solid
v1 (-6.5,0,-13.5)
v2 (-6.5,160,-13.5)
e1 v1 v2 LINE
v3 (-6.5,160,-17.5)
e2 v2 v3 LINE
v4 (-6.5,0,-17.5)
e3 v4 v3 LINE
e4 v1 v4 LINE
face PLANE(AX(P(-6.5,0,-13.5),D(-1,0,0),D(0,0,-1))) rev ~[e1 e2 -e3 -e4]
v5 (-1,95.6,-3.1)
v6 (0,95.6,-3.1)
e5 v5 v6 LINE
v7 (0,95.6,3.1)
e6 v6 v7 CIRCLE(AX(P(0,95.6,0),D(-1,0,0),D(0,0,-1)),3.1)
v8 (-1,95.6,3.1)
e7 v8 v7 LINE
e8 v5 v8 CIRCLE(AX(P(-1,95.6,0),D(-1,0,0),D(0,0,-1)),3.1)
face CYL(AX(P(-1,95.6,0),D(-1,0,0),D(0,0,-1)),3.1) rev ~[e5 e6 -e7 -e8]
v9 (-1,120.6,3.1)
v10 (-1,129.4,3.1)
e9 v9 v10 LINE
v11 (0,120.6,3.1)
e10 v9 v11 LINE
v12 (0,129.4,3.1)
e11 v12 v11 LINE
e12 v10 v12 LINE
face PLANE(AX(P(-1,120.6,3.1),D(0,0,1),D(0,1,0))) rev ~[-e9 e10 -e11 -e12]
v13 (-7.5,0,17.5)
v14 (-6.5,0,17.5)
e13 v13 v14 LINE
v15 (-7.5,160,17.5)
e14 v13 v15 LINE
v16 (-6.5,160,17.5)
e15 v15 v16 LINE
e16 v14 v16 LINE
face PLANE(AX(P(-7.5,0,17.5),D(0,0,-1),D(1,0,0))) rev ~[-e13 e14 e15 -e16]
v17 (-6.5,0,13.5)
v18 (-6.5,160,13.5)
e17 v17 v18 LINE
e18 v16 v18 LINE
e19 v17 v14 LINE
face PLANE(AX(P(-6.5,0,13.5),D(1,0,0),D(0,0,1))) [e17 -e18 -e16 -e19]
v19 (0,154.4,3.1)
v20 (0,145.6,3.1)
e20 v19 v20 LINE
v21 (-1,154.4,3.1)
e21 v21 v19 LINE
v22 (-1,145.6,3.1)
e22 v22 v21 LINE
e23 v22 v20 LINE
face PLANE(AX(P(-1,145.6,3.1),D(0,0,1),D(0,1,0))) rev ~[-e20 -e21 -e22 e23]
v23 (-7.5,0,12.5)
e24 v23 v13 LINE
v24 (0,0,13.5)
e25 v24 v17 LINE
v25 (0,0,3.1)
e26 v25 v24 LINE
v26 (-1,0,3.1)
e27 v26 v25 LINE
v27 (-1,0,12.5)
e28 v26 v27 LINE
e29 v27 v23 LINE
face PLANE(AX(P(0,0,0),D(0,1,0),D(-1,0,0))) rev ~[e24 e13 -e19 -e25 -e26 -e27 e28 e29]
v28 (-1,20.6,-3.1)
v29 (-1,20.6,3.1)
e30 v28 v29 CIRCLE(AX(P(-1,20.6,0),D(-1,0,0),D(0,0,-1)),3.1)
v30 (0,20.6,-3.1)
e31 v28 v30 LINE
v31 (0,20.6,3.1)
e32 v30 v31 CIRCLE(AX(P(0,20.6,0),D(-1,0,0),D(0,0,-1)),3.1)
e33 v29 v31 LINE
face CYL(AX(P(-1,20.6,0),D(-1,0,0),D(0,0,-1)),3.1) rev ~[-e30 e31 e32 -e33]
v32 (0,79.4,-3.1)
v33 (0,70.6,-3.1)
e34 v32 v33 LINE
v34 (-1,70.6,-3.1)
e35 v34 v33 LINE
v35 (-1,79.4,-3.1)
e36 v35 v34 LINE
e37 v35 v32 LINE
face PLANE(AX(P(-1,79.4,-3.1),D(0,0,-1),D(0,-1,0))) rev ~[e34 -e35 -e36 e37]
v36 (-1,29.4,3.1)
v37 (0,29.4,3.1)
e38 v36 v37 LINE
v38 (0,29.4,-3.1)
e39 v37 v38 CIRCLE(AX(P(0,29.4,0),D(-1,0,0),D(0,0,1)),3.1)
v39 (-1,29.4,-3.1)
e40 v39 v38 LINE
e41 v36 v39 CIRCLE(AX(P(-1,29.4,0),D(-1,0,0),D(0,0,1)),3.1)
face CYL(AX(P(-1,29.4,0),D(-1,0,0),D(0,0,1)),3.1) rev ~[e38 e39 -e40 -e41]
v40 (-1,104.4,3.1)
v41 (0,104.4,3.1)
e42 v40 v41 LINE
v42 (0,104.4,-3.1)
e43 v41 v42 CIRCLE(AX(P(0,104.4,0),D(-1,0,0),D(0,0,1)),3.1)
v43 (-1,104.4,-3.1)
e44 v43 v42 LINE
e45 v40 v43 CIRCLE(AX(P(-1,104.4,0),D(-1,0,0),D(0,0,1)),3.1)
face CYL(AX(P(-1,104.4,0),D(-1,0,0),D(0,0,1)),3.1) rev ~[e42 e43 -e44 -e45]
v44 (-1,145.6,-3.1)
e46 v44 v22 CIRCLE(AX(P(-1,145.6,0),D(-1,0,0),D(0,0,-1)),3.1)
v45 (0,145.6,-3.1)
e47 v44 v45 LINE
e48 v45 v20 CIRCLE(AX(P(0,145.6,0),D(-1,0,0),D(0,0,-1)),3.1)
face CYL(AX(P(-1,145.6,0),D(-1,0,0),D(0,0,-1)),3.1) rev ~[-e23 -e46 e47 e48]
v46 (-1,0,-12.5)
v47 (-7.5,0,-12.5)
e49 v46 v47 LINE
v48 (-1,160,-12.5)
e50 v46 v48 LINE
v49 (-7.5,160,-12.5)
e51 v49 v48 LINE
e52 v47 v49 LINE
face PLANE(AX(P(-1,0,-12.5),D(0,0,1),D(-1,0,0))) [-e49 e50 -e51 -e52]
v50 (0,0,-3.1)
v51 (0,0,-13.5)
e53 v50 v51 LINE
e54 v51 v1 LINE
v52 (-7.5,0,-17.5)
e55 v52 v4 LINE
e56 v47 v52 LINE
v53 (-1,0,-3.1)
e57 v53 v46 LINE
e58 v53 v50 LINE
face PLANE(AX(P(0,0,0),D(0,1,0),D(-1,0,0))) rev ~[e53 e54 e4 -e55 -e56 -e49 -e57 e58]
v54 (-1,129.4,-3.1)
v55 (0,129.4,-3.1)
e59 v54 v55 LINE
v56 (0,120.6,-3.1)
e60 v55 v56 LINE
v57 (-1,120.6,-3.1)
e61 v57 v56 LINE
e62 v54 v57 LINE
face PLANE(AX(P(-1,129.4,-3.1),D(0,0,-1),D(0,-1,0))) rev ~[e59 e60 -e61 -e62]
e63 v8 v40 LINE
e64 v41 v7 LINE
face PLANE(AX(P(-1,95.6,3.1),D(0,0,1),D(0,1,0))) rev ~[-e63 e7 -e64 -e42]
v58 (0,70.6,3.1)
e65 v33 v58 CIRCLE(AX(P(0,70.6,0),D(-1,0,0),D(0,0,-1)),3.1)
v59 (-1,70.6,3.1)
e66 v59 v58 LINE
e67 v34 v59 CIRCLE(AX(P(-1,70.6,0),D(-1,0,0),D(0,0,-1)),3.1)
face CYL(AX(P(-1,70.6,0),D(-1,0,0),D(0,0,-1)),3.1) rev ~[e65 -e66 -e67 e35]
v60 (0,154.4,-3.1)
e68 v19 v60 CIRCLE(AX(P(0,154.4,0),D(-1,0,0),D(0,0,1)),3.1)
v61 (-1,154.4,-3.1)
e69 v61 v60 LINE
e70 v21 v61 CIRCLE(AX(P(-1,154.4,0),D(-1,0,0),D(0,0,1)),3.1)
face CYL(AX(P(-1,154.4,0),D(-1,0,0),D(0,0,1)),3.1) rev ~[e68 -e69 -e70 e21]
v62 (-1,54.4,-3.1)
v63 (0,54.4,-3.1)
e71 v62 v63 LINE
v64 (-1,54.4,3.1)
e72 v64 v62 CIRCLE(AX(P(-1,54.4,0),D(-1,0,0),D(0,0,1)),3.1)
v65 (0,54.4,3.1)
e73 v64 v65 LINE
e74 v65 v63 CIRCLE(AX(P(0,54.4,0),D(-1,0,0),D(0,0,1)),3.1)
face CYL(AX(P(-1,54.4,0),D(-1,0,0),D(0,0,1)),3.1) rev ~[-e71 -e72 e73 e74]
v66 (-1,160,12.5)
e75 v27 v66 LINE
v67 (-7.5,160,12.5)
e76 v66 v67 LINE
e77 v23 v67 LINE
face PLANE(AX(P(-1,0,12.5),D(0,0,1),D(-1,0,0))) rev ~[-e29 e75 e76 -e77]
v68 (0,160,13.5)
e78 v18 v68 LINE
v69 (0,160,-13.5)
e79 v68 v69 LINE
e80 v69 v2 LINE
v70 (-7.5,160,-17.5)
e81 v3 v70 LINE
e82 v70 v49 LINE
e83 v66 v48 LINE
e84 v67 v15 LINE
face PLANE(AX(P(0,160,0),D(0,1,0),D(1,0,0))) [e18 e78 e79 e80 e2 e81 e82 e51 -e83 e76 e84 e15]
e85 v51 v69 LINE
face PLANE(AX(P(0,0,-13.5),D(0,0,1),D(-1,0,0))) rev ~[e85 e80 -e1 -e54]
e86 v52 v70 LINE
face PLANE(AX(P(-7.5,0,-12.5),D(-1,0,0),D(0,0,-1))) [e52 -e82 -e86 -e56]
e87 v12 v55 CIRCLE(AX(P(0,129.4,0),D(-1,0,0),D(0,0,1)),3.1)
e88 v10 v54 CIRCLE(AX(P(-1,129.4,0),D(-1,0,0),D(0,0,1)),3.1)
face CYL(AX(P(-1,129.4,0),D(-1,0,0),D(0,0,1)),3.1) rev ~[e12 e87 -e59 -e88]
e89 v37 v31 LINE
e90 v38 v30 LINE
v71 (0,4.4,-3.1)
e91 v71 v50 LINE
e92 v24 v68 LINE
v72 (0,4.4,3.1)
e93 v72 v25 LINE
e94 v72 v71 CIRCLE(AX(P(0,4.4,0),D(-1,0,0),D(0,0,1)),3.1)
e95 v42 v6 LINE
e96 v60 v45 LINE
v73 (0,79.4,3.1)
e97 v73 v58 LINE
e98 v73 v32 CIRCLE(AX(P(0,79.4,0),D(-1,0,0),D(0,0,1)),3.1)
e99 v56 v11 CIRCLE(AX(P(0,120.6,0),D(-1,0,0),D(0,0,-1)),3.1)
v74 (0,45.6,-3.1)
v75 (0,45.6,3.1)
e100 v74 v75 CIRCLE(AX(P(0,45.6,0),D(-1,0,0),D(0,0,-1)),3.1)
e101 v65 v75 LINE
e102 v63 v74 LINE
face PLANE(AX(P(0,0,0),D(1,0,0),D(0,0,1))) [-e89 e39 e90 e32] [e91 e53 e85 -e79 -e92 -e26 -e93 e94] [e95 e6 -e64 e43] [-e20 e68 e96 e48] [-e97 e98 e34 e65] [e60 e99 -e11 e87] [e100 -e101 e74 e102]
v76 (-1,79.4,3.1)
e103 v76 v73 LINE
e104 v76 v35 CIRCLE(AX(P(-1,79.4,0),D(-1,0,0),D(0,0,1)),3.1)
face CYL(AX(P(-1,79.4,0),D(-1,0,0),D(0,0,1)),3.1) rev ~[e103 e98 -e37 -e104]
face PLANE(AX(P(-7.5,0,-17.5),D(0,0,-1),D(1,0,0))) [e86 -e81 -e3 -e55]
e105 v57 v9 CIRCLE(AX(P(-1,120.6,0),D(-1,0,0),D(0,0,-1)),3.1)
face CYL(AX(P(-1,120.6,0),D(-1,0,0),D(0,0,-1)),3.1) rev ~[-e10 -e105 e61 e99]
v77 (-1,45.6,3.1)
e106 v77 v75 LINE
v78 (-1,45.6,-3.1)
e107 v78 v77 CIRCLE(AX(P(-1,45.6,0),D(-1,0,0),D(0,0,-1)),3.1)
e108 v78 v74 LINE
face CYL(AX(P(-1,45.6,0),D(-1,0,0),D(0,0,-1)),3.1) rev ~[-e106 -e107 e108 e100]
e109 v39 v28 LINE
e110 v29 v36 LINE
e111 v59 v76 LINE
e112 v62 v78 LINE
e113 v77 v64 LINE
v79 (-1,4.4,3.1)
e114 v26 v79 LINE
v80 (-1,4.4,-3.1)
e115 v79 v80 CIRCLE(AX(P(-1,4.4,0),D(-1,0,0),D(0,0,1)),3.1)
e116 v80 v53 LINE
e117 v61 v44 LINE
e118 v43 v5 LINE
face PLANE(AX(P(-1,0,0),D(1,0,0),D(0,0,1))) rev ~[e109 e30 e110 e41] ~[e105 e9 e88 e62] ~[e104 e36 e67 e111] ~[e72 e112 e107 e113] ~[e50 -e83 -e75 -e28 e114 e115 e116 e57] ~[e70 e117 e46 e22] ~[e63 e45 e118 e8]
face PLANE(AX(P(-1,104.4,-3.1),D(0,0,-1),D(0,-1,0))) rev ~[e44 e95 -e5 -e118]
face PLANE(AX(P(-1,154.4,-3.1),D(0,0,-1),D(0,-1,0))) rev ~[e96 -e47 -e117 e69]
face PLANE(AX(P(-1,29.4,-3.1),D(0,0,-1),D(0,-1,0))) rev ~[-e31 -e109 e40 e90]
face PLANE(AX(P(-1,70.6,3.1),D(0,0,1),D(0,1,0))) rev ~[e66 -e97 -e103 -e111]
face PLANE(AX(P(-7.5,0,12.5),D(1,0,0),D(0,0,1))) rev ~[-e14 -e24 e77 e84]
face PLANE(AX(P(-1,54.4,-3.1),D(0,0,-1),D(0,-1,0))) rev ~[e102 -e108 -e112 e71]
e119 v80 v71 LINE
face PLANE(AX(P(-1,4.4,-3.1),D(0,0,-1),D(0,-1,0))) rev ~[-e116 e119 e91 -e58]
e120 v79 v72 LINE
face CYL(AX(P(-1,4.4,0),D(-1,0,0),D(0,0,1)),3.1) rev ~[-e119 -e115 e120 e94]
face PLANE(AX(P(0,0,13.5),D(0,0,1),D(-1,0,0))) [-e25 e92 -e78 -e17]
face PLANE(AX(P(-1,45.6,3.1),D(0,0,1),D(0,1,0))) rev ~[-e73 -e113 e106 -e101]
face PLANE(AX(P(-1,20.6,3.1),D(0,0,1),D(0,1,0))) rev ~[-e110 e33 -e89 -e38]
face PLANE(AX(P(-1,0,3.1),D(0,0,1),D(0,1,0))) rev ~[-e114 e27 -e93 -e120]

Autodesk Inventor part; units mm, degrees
ref_plane "YZ Plane" through (0, 0, 0) normal (1, 0, 0) x (0, 1, 0)
ref_plane "XZ Plane" through (0, 0, 0) normal (0, 1, 0) x (-1, 0, 0)
ref_plane "XY Plane" through (0, 0, 0) normal (0, 0, 1) x (1, 0, 0)
sketch "Sketch1" plane through (0, 0, 0) normal (0, 1, 0) x (-1, 0, 0)
  line L0 (0, 0) -> (0, -13.5)
  line L1 (0, -13.5) -> (6.5, -13.5)
  line L2 (6.5, -13.5) -> (6.5, -17.5)
  line L3 (1, 0) -> (1, -12.5)
  line L4 (1, -12.5) -> (7.5, -12.5)
  line L5 (7.5, -12.5) -> (7.5, -17.5)
  line L6 (7.5, -17.5) -> (6.5, -17.5)
  line L7 (1, 0) -> (0, 0) construction
  line L8 (0, 0) -> (0, 13.5)
  line L9 (0, 13.5) -> (6.5, 13.5)
  line L10 (6.5, 13.5) -> (6.5, 17.5)
  line L11 (1, 0) -> (1, 12.5)
  line L12 (1, 12.5) -> (7.5, 12.5)
  line L13 (7.5, 12.5) -> (7.5, 17.5)
  line L14 (7.5, 17.5) -> (6.5, 17.5)
  dimension "d0" = 13.5
  dimension "d1" = 1
  dimension "d2" = 7.5
  dimension "d3" = 17.5
extrude "Extrusion1" add sketch "Sketch1" along normal blind 200
sketch "Sketch2" plane through (-1, 0, -12.5) normal (-1, 0, 0) x (0, 0, 1)
  line L0 (0, 0) -> (25, 0) projected
  line L1 (25, 0) -> (25, 200) projected
  line L2 (0, 200) -> (25, 200) projected
  line L3 (0, 0) -> (0, 200) projected
  line L4 (25, 0) -> (25, 200) projected
  line L5 (12.5, 104.4) -> (12.5, 95.6) construction
  line L6 (30, 0) -> (30, 200) projected
  line L7 (9.4, 104.4) -> (9.4, 95.6)
  line L8 (15.6, 95.6) -> (15.6, 104.4)
  arc A0 (15.6, 104.4) -> (9.4, 104.4) centre (12.5, 104.4) ccw
  arc A1 (9.4, 95.6) -> (15.6, 95.6) centre (12.5, 95.6) ccw
  line L9 (12.5, 129.4) -> (12.5, 120.6) construction
  line L10 (9.4, 129.4) -> (9.4, 120.6)
  line L11 (15.6, 120.6) -> (15.6, 129.4)
  arc A2 (15.6, 129.4) -> (9.4, 129.4) centre (12.5, 129.4) ccw
  arc A3 (9.4, 120.6) -> (15.6, 120.6) centre (12.5, 120.6) ccw
  line L12 (12.5, 79.4) -> (12.5, 70.6) construction
  line L13 (9.4, 79.4) -> (9.4, 70.6)
  line L14 (15.6, 70.6) -> (15.6, 79.4)
  arc A4 (15.6, 79.4) -> (9.4, 79.4) centre (12.5, 79.4) ccw
  arc A5 (9.4, 70.6) -> (15.6, 70.6) centre (12.5, 70.6) ccw
  line L15 (12.5, 154.4) -> (12.5, 145.6) construction
  line L16 (9.4, 154.4) -> (9.4, 145.6)
  line L17 (15.6, 145.6) -> (15.6, 154.4)
  arc A6 (15.6, 154.4) -> (9.4, 154.4) centre (12.5, 154.4) ccw
  arc A7 (9.4, 145.6) -> (15.6, 145.6) centre (12.5, 145.6) ccw
  line L18 (12.5, 54.4) -> (12.5, 45.6) construction
  line L19 (9.4, 54.4) -> (9.4, 45.6)
  line L20 (15.6, 45.6) -> (15.6, 54.4)
  arc A8 (15.6, 54.4) -> (9.4, 54.4) centre (12.5, 54.4) ccw
  arc A9 (9.4, 45.6) -> (15.6, 45.6) centre (12.5, 45.6) ccw
  line L21 (12.5, 179.4) -> (12.5, 170.6) construction
  line L22 (9.4, 179.4) -> (9.4, 170.6)
  line L23 (15.6, 170.6) -> (15.6, 179.4)
  arc A10 (15.6, 179.4) -> (9.4, 179.4) centre (12.5, 179.4) ccw
  arc A11 (9.4, 170.6) -> (15.6, 170.6) centre (12.5, 170.6) ccw
  line L24 (12.5, 29.4) -> (12.5, 20.6) construction
  line L25 (9.4, 29.4) -> (9.4, 20.6)
  line L26 (15.6, 20.6) -> (15.6, 29.4)
  arc A12 (15.6, 29.4) -> (9.4, 29.4) centre (12.5, 29.4) ccw
  arc A13 (9.4, 20.6) -> (15.6, 20.6) centre (12.5, 20.6) ccw
  line L27 (12.5, 204.4) -> (12.5, 195.6) construction
  line L28 (9.4, 204.4) -> (9.4, 195.6)
  line L29 (15.6, 195.6) -> (15.6, 204.4)
  arc A14 (15.6, 204.4) -> (9.4, 204.4) centre (12.5, 204.4) ccw
  arc A15 (9.4, 195.6) -> (15.6, 195.6) centre (12.5, 195.6) ccw
  line L30 (12.5, 4.4) -> (12.5, -4.4) construction
  line L31 (9.4, 4.4) -> (9.4, -4.4)
  line L32 (15.6, -4.4) -> (15.6, 4.4)
  arc A16 (15.6, 4.4) -> (9.4, 4.4) centre (12.5, 4.4) ccw
  arc A17 (9.4, -4.4) -> (15.6, -4.4) centre (12.5, -4.4) ccw
  point P0 (12.5, 0)
  point P1 (12.5, 100)
  point P2 (12.5, 200)
  point P3 (25, 100)
  point P4 (12.5, 107.5)
  point P5 (12.5, 92.5)
  point P6 (12.5, 132.5)
  point P7 (12.5, 117.5)
  point P8 (12.5, 125)
  point P9 (12.5, 82.5)
  point P10 (12.5, 67.5)
  point P11 (12.5, 75)
  point P12 (12.5, 157.5)
  point P13 (12.5, 142.5)
  point P14 (12.5, 150)
  point P15 (12.5, 57.5)
  point P16 (12.5, 42.5)
  point P17 (12.5, 50)
  point P18 (12.5, 182.5)
  point P19 (12.5, 167.5)
  point P20 (12.5, 175)
  point P21 (12.5, 32.5)
  point P22 (12.5, 17.5)
  point P23 (12.5, 25)
  point P24 (12.5, 207.5)
  point P25 (12.5, 192.5)
  point P26 (12.5, 200)
  point P27 (12.5, 7.5)
  point P28 (12.5, -7.5)
  point P29 (12.5, 0)
  point P30 (9.4, 0)
  point P31 (15.6, 0)
  dimension "d6" = 6.2
  dimension "d7" = 15
  dimension "d10" = 25
extrude "Extrusion2" cut sketch "Sketch2" against normal blind 15 contours L31 A16 L32 L0 | L28 A14 L29 L2 | L2 L29 A15 L28 | A0 L8 A1 L7 | A2 L11 A3 L10 | A4 L14 A5 L13 | A6 L17 A7 L16 | A8 L20 A9 L19 | A10 L23 A11 L22 | A12 L26 A13 L25
sketch "Sketch3" plane through (0, 200, 0) normal (0, 1, 0) x (1, 0, 0)
  line L0 (0, 3.1) -> (0, -3.1) projected
  line L1 (-1, -3.1) -> (-1, 3.1) projected
  line L2 (0, -3.1) -> (0, 3.1) projected
  line L3 (-1, -3.1) -> (0, -3.1) projected
  line L4 (-1, 3.1) -> (-1, -3.1) projected
  line L5 (-1, 3.1) -> (0, 3.1) projected
  line L6 (-1, -3.1) -> (0, -3.1) projected
  line L7 (-1, 3.1) -> (0, 3.1) projected
  line L8 (-1, 3.1) -> (0, 3.1) projected
  line L9 (0, 3.1) -> (0, -3.1) projected
  line L10 (-1, -3.1) -> (-1, 3.1) projected
  line L11 (0, 3.1) -> (0, -3.1) projected
  line L12 (-1, 3.1) -> (0, 3.1) projected
  line L13 (0, -3.1) -> (0, 3.1) projected
  line L14 (-1, -3.1) -> (0, -3.1) projected
  line L15 (-1, 3.1) -> (-1, -3.1) projected
  line L16 (-1, 3.1) -> (0, 3.1) projected
  line L17 (-1, -3.1) -> (-1, -12.5) projected
  line L18 (-1, -12.5) -> (-7.5, -12.5) projected
  line L19 (-7.5, -12.5) -> (-7.5, -17.5) projected
  line L20 (-7.5, -17.5) -> (-6.5, -17.5) projected
  line L21 (-6.5, -17.5) -> (-6.5, -13.5) projected
  line L22 (-6.5, -13.5) -> (0, -13.5) projected
  line L23 (0, -13.5) -> (0, -3.1) projected
  line L24 (0, 3.1) -> (0, 13.5) projected
  line L25 (0, 13.5) -> (-6.5, 13.5) projected
  line L26 (-6.5, 13.5) -> (-6.5, 17.5) projected
  line L27 (-6.5, 17.5) -> (-7.5, 17.5) projected
  line L28 (-7.5, 17.5) -> (-7.5, 12.5) projected
  line L29 (-7.5, 12.5) -> (-1, 12.5) projected
  line L30 (-1, 12.5) -> (-1, 3.1) projected
  line L31 (-1, -3.1) -> (0, -3.1) projected
  line L32 (-1, -3.1) -> (0, -3.1) projected
  line L33 (0, 3.1) -> (0, -3.1) projected
  line L34 (-1, 3.1) -> (0, 3.1) projected
  line L35 (-1, -3.1) -> (-1, 3.1) projected
  line L36 (-1, -3.1) -> (0, -3.1) projected
  line L37 (-1, 3.1) -> (0, 3.1) projected
  line L38 (-1, 3.1) -> (0, 3.1) projected
  line L39 (0, 3.1) -> (0, -3.1) projected
  line L40 (-1, 3.1) -> (0, 3.1) projected
  line L41 (-1, -3.1) -> (-1, 3.1) projected
  line L42 (-1, -3.1) -> (0, -3.1) projected
  line L43 (0, -3.1) -> (0, 3.1) projected
  line L44 (-1, -3.1) -> (0, -3.1) projected
  line L45 (-1, 3.1) -> (-1, -3.1) projected
  line L46 (-1, 3.1) -> (0, 3.1) projected
  line L47 (0, 3.1) -> (-1, 3.1) projected
  line L48 (-1, 12.5) -> (-1, 3.1) projected
  line L49 (-7.5, 12.5) -> (-1, 12.5) projected
  line L50 (-7.5, 17.5) -> (-7.5, 12.5) projected
  line L51 (-6.5, 17.5) -> (-7.5, 17.5) projected
  line L52 (-6.5, 13.5) -> (-6.5, 17.5) projected
  line L53 (0, 13.5) -> (-6.5, 13.5) projected
  line L54 (0, 3.1) -> (0, 13.5) projected
  line L55 (-1, -3.1) -> (0, -3.1) projected
  line L56 (-1, -3.1) -> (0, -3.1) projected
  line L57 (-1, -3.1) -> (0, -3.1) projected
  line L58 (0, -13.5) -> (0, -3.1) projected
  line L59 (-6.5, -13.5) -> (0, -13.5) projected
  line L60 (-6.5, -17.5) -> (-6.5, -13.5) projected
  line L61 (-7.5, -17.5) -> (-6.5, -17.5) projected
  line L62 (-7.5, -12.5) -> (-7.5, -17.5) projected
  line L63 (-1, -12.5) -> (-7.5, -12.5) projected
  line L64 (-1, -3.1) -> (-1, -12.5) projected
  line L65 (-1, -3.1) -> (0, -3.1) projected
  line L66 (-1, -3.1) -> (0, -3.1) projected
  line L67 (-1, -3.1) -> (0, -3.1) projected
  line L68 (-1, -3.1) -> (0, -3.1) projected
  line L69 (-1, 3.1) -> (0, 3.1) projected
  line L70 (-1, -3.1) -> (-1, 3.1) projected
  line L71 (0, 3.1) -> (0, -3.1) projected
  line L72 (0, 3.1) -> (0, -3.1) projected
  line L73 (-1, -3.1) -> (-1, 3.1) projected
  line L74 (-1, -3.1) -> (0, -3.1) projected
  line L75 (-1, 3.1) -> (0, 3.1) projected
  line L76 (-1, 3.1) -> (0, 3.1) projected
  line L77 (0, 3.1) -> (-1, 3.1) projected
  line L78 (0, 3.1) -> (-1, 3.1) projected
  line L79 (-1, -3.1) -> (0, -3.1) projected
  line L80 (-1, -3.1) -> (0, -3.1) projected
  line L81 (0, 3.1) -> (0, -3.1) projected
  line L82 (-1, -3.1) -> (-1, -12.5) projected
  line L83 (-1, -3.1) -> (-1, -12.5) projected
  line L84 (-1, -3.1) -> (-1, 3.1) projected
  line L85 (-1, 12.5) -> (-1, 3.1) projected
  line L86 (-1, 12.5) -> (-1, 3.1) projected
  line L87 (-1, 3.1) -> (-1, -3.1) projected
  line L88 (-1, -3.1) -> (-1, 3.1) projected
  line L89 (-1, 3.1) -> (-1, -3.1) projected
  line L90 (-1, -3.1) -> (-1, 3.1) projected
  line L91 (-1, 3.1) -> (-1, -3.1) projected
  line L92 (-1, -3.1) -> (-1, 3.1) projected
  line L93 (-1, 3.1) -> (-1, -3.1) projected
  line L94 (-1, -3.1) -> (-1, 3.1) projected
  line L95 (-1, 3.1) -> (-1, -3.1) projected
  line L96 (-1, -3.1) -> (-1, 3.1) projected
  line L97 (-1, 3.1) -> (-1, -3.1) projected
  line L98 (-1, -3.1) -> (-1, 3.1) projected
  line L99 (-1, 3.1) -> (-1, -3.1) projected
  line L100 (-1, -3.1) -> (-1, 3.1) projected
  line L101 (-1, 3.1) -> (-1, -3.1) projected
  line L102 (0, -3.1) -> (0, 3.1) projected
  line L103 (0, 3.1) -> (0, -3.1) projected
  line L104 (0, -3.1) -> (0, 3.1) projected
  line L105 (0, 3.1) -> (0, -3.1) projected
  line L106 (0, -3.1) -> (0, 3.1) projected
  line L107 (0, 3.1) -> (0, -3.1) projected
  line L108 (0, -3.1) -> (0, 3.1) projected
  line L109 (0, 3.1) -> (0, -3.1) projected
  line L110 (0, -3.1) -> (0, 3.1) projected
  line L111 (0, 3.1) -> (0, -3.1) projected
  line L112 (0, -3.1) -> (0, 3.1) projected
  line L113 (0, 3.1) -> (0, -3.1) projected
  line L114 (0, -3.1) -> (0, 3.1) projected
  line L115 (0, 3.1) -> (0, -3.1) projected
  line L116 (0, -3.1) -> (0, 3.1) projected
  line L117 (0, 3.1) -> (0, 13.5) projected
  line L118 (0, 3.1) -> (0, 13.5) projected
  line L119 (0, 3.1) -> (0, -3.1) projected
  line L120 (0, -13.5) -> (0, -3.1) projected
  line L121 (0, -13.5) -> (0, -3.1) projected
  line L122 (-1, 12.5) -> (-1, 3.1) projected
  line L123 (0, 3.1) -> (0, 13.5) projected
  line L124 (-7.5, 12.5) -> (-1, 12.5) projected
  line L125 (-7.5, 12.5) -> (-1, 12.5) projected
  line L126 (0, 13.5) -> (-6.5, 13.5) projected
  line L127 (0, 13.5) -> (-6.5, 13.5) projected
  line L128 (0, 13.5) -> (-6.5, 13.5) projected
  line L129 (-6.5, 13.5) -> (-6.5, 17.5) projected
  line L130 (-6.5, 13.5) -> (-6.5, 17.5) projected
  line L131 (-6.5, 13.5) -> (-6.5, 17.5) projected
  line L132 (-6.5, 17.5) -> (-7.5, 17.5) projected
  line L133 (-6.5, 17.5) -> (-7.5, 17.5) projected
  line L134 (-7.5, 17.5) -> (-7.5, 12.5) projected
  line L135 (-7.5, 17.5) -> (-7.5, 12.5) projected
  line L136 (-7.5, 17.5) -> (-7.5, 12.5) projected
  line L137 (-1, -3.1) -> (-1, 3.1) projected
  line L138 (-6.5, 17.5) -> (-7.5, 17.5) projected
  line L139 (-6.5, -13.5) -> (0, -13.5) projected
  line L140 (-7.5, 12.5) -> (-1, 12.5) projected
  line L141 (-1, -12.5) -> (-7.5, -12.5) projected
  line L142 (-1, -3.1) -> (0, -3.1) projected
  line L143 (-1, -3.1) -> (-1, -12.5) projected
  line L144 (0, -13.5) -> (0, -3.1) projected
  line L145 (-1, -12.5) -> (-7.5, -12.5) projected
  line L146 (-1, -12.5) -> (-7.5, -12.5) projected
  line L147 (-6.5, -13.5) -> (0, -13.5) projected
  line L148 (-6.5, -13.5) -> (0, -13.5) projected
  line L149 (-7.5, -12.5) -> (-7.5, -17.5) projected
  line L150 (-7.5, -12.5) -> (-7.5, -17.5) projected
  line L151 (-7.5, -12.5) -> (-7.5, -17.5) projected
  line L152 (-6.5, -17.5) -> (-6.5, -13.5) projected
  line L153 (-6.5, -17.5) -> (-6.5, -13.5) projected
  line L154 (-6.5, -17.5) -> (-6.5, -13.5) projected
  line L155 (-7.5, -17.5) -> (-6.5, -17.5) projected
  line L156 (-7.5, -17.5) -> (-6.5, -17.5) projected
  line L157 (-7.5, -17.5) -> (-6.5, -17.5) projected
  line L158 (-1, -3.1) -> (-1, 3.1) projected
  line L159 (-1, -3.1) -> (0, -3.1) projected
  line L160 (0, 3.1) -> (0, -3.1) projected
  line L161 (-1, 3.1) -> (0, 3.1) projected
  line L162 (-1, -3.1) -> (-1, 3.1) projected
  line L163 (-1, -3.1) -> (0, -3.1) projected
  line L164 (-1, 3.1) -> (0, 3.1) projected
  line L165 (-1, 3.1) -> (0, 3.1) projected
  line L166 (-1, 3.1) -> (0, 3.1) projected
  line L167 (0, -3.1) -> (0, 3.1) projected
  line L168 (-1, -3.1) -> (0, -3.1) projected
  line L169 (-1, 3.1) -> (-1, -3.1) projected
  line L170 (-1, 3.1) -> (0, 3.1) projected
  line L171 (-1, -3.1) -> (-1, 3.1) projected
  line L172 (0, 3.1) -> (0, -3.1) projected
  line L173 (-1, 3.1) -> (0, 3.1) projected
  line L174 (0, 3.1) -> (0, -3.1) projected
  line L175 (-1, 3.1) -> (0, 3.1) projected
  line L176 (-1, -3.1) -> (-1, 3.1) projected
  line L177 (-1, -3.1) -> (0, -3.1) projected
  line L178 (-1, -3.1) -> (-1, 3.1) projected
  line L179 (0, 3.1) -> (0, -3.1) projected
  line L180 (-1, -3.1) -> (0, -3.1) projected
  line L181 (-1, 3.1) -> (0, 3.1) projected
  line L182 (0, 3.1) -> (0, -3.1) projected
  line L183 (-1, 3.1) -> (0, 3.1) projected
  line L184 (-1, 3.1) -> (0, 3.1) projected
  line L185 (-1, -3.1) -> (-1, 3.1) projected
  line L186 (-1, -3.1) -> (0, -3.1) projected
  line L187 (-1, -3.1) -> (0, -3.1) projected
  line L188 (-1, 3.1) -> (0, 3.1) projected
  line L189 (-1, 3.1) -> (0, 3.1) projected
  line L190 (0, -3.1) -> (0, 3.1) projected
  line L191 (-1, -3.1) -> (0, -3.1) projected
  line L192 (-1, 3.1) -> (-1, -3.1) projected
  line L193 (-1, 3.1) -> (0, 3.1) projected
  line L194 (-1, 3.1) -> (0, 3.1) projected
  line L195 (-1, -3.1) -> (-1, 3.1) projected
  line L196 (0, 3.1) -> (0, -3.1) projected
  line L197 (-1, -3.1) -> (-1, 3.1) projected
  line L198 (0, 3.1) -> (0, -3.1) projected
  line L199 (-1, -3.1) -> (0, -3.1) projected
  line L200 (-1, 3.1) -> (0, 3.1) projected
  line L201 (-1, 3.1) -> (0, 3.1) projected
  line L202 (-1, 3.1) -> (0, 3.1) projected
  line L203 (-1, -3.1) -> (-1, 3.1) projected
  line L204 (0, 3.1) -> (0, -3.1) projected
  line L205 (-1, 3.1) -> (0, 3.1) projected
  line L206 (-1, -3.1) -> (0, -3.1) projected
  line L207 (-1, 3.1) -> (0, 3.1) projected
  line L208 (-1, -3.1) -> (0, -3.1) projected
  line L209 (-1, -3.1) -> (-1, 3.1) projected
  line L210 (0, 3.1) -> (0, -3.1) projected
  line L211 (0, 3.1) -> (0, -3.1) projected
  line L212 (-1, 3.1) -> (0, 3.1) projected
  line L213 (-1, -3.1) -> (-1, 3.1) projected
  line L214 (-1, -3.1) -> (0, -3.1) projected
  line L215 (-1, -3.1) -> (0, -3.1) projected
  line L216 (0, 3.1) -> (0, -3.1) projected
  line L217 (-1, -3.1) -> (-1, 3.1) projected
  line L218 (0, 3.1) -> (0, -3.1) projected
  line L219 (0, -3.1) -> (-1, -3.1) projected
  line L220 (-1, -3.1) -> (0, -3.1) projected
  line L221 (-1, -3.1) -> (-1, 3.1) projected
  line L222 (-1, 3.1) -> (0, 3.1) projected
  line L223 (-1, 3.1) -> (0, 3.1) projected
  line L224 (0, -3.1) -> (-1, -3.1) projected
  line L225 (-1, -3.1) -> (-1, -12.5) projected
  line L226 (-1, -12.5) -> (-7.5, -12.5) projected
  line L227 (-7.5, -12.5) -> (-7.5, -17.5) projected
  line L228 (-7.5, -17.5) -> (-6.5, -17.5) projected
  line L229 (-6.5, -17.5) -> (-6.5, -13.5) projected
  line L230 (-6.5, -13.5) -> (0, -13.5) projected
  line L231 (0, -13.5) -> (0, -3.1) projected
  line L232 (-1, 3.1) -> (0, 3.1) projected
  line L233 (0, 3.1) -> (0, 13.5) projected
  line L234 (0, 13.5) -> (-6.5, 13.5) projected
  line L235 (-6.5, 13.5) -> (-6.5, 17.5) projected
  line L236 (-6.5, 17.5) -> (-7.5, 17.5) projected
  line L237 (-7.5, 17.5) -> (-7.5, 12.5) projected
  line L238 (-7.5, 12.5) -> (-1, 12.5) projected
  line L239 (-1, 12.5) -> (-1, 3.1) projected
  line L240 (0, -3.1) -> (0, 3.1) projected
  line L241 (-1, -3.1) -> (0, -3.1) projected
  line L242 (-1, 3.1) -> (-1, -3.1) projected
  line L243 (-1, 3.1) -> (0, 3.1) projected
  line L244 (0, 3.1) -> (0, -3.1) projected
  line L245 (-1, 3.1) -> (0, 3.1) projected
  line L246 (-1, -3.1) -> (-1, 3.1) projected
  line L247 (-1, -3.1) -> (0, -3.1) projected
  line L248 (-1, -3.1) -> (0, -3.1) projected
  line L249 (-1, -3.1) -> (0, -3.1) projected
  line L250 (0, 3.1) -> (0, -3.1) projected
  line L251 (-1, 3.1) -> (0, 3.1) projected
  line L252 (-1, -3.1) -> (-1, 3.1) projected
  line L253 (-1, -3.1) -> (0, -3.1) projected
  line L254 (-1, -3.1) -> (0, -3.1) projected
  line L255 (-1, -3.1) -> (0, -3.1) projected
  line L256 (-1, 3.1) -> (0, 3.1) projected
  line L257 (-1, 3.1) -> (0, 3.1) projected
  line L258 (0, -3.1) -> (0, 3.1) projected
  line L259 (-1, -3.1) -> (0, -3.1) projected
  line L260 (-1, 3.1) -> (-1, -3.1) projected
  line L261 (-1, 3.1) -> (0, 3.1) projected
  line L262 (0, 3.1) -> (0, -3.1) projected
  line L263 (-1, 3.1) -> (0, 3.1) projected
  line L264 (-1, -3.1) -> (-1, 3.1) projected
  line L265 (-1, -3.1) -> (0, -3.1) projected
  line L266 (-1, -3.1) -> (0, -3.1) projected
  line L267 (-1, -3.1) -> (0, -3.1) projected
  line L268 (-1, 3.1) -> (0, 3.1) projected
  line L269 (-1, 3.1) -> (0, 3.1) projected
  line L270 (0, -3.1) -> (0, 3.1) projected
  line L271 (-1, -3.1) -> (0, -3.1) projected
  line L272 (-1, 3.1) -> (-1, -3.1) projected
  line L273 (-1, 3.1) -> (0, 3.1) projected
  line L274 (0, 3.1) -> (0, -3.1) projected
  line L275 (-1, 3.1) -> (0, 3.1) projected
  line L276 (-1, -3.1) -> (-1, 3.1) projected
  line L277 (-1, -3.1) -> (0, -3.1) projected
  line L278 (0, -3.1) -> (-1, -3.1) projected
  line L279 (-1, -3.1) -> (0, -3.1) projected
  line L280 (-1, 3.1) -> (0, 3.1) projected
  line L281 (-1, 3.1) -> (0, 3.1) projected
  line L282 (-1, 3.1) -> (0, 3.1) projected
  line L283 (-1, 3.1) -> (0, 3.1) projected
  line L284 (-1, -3.1) -> (0, -3.1) projected
  line L285 (-1, -3.1) -> (0, -3.1) projected
  line L286 (-1, -3.1) -> (0, -3.1) projected
  line L287 (-1, -3.1) -> (0, -3.1) projected
  point P0 (0, 0)
extrude "Extrusion3" cut sketch "Sketch3" against normal blind 40
equation "\"d15\" = d7"
properties part number "din_rail"
